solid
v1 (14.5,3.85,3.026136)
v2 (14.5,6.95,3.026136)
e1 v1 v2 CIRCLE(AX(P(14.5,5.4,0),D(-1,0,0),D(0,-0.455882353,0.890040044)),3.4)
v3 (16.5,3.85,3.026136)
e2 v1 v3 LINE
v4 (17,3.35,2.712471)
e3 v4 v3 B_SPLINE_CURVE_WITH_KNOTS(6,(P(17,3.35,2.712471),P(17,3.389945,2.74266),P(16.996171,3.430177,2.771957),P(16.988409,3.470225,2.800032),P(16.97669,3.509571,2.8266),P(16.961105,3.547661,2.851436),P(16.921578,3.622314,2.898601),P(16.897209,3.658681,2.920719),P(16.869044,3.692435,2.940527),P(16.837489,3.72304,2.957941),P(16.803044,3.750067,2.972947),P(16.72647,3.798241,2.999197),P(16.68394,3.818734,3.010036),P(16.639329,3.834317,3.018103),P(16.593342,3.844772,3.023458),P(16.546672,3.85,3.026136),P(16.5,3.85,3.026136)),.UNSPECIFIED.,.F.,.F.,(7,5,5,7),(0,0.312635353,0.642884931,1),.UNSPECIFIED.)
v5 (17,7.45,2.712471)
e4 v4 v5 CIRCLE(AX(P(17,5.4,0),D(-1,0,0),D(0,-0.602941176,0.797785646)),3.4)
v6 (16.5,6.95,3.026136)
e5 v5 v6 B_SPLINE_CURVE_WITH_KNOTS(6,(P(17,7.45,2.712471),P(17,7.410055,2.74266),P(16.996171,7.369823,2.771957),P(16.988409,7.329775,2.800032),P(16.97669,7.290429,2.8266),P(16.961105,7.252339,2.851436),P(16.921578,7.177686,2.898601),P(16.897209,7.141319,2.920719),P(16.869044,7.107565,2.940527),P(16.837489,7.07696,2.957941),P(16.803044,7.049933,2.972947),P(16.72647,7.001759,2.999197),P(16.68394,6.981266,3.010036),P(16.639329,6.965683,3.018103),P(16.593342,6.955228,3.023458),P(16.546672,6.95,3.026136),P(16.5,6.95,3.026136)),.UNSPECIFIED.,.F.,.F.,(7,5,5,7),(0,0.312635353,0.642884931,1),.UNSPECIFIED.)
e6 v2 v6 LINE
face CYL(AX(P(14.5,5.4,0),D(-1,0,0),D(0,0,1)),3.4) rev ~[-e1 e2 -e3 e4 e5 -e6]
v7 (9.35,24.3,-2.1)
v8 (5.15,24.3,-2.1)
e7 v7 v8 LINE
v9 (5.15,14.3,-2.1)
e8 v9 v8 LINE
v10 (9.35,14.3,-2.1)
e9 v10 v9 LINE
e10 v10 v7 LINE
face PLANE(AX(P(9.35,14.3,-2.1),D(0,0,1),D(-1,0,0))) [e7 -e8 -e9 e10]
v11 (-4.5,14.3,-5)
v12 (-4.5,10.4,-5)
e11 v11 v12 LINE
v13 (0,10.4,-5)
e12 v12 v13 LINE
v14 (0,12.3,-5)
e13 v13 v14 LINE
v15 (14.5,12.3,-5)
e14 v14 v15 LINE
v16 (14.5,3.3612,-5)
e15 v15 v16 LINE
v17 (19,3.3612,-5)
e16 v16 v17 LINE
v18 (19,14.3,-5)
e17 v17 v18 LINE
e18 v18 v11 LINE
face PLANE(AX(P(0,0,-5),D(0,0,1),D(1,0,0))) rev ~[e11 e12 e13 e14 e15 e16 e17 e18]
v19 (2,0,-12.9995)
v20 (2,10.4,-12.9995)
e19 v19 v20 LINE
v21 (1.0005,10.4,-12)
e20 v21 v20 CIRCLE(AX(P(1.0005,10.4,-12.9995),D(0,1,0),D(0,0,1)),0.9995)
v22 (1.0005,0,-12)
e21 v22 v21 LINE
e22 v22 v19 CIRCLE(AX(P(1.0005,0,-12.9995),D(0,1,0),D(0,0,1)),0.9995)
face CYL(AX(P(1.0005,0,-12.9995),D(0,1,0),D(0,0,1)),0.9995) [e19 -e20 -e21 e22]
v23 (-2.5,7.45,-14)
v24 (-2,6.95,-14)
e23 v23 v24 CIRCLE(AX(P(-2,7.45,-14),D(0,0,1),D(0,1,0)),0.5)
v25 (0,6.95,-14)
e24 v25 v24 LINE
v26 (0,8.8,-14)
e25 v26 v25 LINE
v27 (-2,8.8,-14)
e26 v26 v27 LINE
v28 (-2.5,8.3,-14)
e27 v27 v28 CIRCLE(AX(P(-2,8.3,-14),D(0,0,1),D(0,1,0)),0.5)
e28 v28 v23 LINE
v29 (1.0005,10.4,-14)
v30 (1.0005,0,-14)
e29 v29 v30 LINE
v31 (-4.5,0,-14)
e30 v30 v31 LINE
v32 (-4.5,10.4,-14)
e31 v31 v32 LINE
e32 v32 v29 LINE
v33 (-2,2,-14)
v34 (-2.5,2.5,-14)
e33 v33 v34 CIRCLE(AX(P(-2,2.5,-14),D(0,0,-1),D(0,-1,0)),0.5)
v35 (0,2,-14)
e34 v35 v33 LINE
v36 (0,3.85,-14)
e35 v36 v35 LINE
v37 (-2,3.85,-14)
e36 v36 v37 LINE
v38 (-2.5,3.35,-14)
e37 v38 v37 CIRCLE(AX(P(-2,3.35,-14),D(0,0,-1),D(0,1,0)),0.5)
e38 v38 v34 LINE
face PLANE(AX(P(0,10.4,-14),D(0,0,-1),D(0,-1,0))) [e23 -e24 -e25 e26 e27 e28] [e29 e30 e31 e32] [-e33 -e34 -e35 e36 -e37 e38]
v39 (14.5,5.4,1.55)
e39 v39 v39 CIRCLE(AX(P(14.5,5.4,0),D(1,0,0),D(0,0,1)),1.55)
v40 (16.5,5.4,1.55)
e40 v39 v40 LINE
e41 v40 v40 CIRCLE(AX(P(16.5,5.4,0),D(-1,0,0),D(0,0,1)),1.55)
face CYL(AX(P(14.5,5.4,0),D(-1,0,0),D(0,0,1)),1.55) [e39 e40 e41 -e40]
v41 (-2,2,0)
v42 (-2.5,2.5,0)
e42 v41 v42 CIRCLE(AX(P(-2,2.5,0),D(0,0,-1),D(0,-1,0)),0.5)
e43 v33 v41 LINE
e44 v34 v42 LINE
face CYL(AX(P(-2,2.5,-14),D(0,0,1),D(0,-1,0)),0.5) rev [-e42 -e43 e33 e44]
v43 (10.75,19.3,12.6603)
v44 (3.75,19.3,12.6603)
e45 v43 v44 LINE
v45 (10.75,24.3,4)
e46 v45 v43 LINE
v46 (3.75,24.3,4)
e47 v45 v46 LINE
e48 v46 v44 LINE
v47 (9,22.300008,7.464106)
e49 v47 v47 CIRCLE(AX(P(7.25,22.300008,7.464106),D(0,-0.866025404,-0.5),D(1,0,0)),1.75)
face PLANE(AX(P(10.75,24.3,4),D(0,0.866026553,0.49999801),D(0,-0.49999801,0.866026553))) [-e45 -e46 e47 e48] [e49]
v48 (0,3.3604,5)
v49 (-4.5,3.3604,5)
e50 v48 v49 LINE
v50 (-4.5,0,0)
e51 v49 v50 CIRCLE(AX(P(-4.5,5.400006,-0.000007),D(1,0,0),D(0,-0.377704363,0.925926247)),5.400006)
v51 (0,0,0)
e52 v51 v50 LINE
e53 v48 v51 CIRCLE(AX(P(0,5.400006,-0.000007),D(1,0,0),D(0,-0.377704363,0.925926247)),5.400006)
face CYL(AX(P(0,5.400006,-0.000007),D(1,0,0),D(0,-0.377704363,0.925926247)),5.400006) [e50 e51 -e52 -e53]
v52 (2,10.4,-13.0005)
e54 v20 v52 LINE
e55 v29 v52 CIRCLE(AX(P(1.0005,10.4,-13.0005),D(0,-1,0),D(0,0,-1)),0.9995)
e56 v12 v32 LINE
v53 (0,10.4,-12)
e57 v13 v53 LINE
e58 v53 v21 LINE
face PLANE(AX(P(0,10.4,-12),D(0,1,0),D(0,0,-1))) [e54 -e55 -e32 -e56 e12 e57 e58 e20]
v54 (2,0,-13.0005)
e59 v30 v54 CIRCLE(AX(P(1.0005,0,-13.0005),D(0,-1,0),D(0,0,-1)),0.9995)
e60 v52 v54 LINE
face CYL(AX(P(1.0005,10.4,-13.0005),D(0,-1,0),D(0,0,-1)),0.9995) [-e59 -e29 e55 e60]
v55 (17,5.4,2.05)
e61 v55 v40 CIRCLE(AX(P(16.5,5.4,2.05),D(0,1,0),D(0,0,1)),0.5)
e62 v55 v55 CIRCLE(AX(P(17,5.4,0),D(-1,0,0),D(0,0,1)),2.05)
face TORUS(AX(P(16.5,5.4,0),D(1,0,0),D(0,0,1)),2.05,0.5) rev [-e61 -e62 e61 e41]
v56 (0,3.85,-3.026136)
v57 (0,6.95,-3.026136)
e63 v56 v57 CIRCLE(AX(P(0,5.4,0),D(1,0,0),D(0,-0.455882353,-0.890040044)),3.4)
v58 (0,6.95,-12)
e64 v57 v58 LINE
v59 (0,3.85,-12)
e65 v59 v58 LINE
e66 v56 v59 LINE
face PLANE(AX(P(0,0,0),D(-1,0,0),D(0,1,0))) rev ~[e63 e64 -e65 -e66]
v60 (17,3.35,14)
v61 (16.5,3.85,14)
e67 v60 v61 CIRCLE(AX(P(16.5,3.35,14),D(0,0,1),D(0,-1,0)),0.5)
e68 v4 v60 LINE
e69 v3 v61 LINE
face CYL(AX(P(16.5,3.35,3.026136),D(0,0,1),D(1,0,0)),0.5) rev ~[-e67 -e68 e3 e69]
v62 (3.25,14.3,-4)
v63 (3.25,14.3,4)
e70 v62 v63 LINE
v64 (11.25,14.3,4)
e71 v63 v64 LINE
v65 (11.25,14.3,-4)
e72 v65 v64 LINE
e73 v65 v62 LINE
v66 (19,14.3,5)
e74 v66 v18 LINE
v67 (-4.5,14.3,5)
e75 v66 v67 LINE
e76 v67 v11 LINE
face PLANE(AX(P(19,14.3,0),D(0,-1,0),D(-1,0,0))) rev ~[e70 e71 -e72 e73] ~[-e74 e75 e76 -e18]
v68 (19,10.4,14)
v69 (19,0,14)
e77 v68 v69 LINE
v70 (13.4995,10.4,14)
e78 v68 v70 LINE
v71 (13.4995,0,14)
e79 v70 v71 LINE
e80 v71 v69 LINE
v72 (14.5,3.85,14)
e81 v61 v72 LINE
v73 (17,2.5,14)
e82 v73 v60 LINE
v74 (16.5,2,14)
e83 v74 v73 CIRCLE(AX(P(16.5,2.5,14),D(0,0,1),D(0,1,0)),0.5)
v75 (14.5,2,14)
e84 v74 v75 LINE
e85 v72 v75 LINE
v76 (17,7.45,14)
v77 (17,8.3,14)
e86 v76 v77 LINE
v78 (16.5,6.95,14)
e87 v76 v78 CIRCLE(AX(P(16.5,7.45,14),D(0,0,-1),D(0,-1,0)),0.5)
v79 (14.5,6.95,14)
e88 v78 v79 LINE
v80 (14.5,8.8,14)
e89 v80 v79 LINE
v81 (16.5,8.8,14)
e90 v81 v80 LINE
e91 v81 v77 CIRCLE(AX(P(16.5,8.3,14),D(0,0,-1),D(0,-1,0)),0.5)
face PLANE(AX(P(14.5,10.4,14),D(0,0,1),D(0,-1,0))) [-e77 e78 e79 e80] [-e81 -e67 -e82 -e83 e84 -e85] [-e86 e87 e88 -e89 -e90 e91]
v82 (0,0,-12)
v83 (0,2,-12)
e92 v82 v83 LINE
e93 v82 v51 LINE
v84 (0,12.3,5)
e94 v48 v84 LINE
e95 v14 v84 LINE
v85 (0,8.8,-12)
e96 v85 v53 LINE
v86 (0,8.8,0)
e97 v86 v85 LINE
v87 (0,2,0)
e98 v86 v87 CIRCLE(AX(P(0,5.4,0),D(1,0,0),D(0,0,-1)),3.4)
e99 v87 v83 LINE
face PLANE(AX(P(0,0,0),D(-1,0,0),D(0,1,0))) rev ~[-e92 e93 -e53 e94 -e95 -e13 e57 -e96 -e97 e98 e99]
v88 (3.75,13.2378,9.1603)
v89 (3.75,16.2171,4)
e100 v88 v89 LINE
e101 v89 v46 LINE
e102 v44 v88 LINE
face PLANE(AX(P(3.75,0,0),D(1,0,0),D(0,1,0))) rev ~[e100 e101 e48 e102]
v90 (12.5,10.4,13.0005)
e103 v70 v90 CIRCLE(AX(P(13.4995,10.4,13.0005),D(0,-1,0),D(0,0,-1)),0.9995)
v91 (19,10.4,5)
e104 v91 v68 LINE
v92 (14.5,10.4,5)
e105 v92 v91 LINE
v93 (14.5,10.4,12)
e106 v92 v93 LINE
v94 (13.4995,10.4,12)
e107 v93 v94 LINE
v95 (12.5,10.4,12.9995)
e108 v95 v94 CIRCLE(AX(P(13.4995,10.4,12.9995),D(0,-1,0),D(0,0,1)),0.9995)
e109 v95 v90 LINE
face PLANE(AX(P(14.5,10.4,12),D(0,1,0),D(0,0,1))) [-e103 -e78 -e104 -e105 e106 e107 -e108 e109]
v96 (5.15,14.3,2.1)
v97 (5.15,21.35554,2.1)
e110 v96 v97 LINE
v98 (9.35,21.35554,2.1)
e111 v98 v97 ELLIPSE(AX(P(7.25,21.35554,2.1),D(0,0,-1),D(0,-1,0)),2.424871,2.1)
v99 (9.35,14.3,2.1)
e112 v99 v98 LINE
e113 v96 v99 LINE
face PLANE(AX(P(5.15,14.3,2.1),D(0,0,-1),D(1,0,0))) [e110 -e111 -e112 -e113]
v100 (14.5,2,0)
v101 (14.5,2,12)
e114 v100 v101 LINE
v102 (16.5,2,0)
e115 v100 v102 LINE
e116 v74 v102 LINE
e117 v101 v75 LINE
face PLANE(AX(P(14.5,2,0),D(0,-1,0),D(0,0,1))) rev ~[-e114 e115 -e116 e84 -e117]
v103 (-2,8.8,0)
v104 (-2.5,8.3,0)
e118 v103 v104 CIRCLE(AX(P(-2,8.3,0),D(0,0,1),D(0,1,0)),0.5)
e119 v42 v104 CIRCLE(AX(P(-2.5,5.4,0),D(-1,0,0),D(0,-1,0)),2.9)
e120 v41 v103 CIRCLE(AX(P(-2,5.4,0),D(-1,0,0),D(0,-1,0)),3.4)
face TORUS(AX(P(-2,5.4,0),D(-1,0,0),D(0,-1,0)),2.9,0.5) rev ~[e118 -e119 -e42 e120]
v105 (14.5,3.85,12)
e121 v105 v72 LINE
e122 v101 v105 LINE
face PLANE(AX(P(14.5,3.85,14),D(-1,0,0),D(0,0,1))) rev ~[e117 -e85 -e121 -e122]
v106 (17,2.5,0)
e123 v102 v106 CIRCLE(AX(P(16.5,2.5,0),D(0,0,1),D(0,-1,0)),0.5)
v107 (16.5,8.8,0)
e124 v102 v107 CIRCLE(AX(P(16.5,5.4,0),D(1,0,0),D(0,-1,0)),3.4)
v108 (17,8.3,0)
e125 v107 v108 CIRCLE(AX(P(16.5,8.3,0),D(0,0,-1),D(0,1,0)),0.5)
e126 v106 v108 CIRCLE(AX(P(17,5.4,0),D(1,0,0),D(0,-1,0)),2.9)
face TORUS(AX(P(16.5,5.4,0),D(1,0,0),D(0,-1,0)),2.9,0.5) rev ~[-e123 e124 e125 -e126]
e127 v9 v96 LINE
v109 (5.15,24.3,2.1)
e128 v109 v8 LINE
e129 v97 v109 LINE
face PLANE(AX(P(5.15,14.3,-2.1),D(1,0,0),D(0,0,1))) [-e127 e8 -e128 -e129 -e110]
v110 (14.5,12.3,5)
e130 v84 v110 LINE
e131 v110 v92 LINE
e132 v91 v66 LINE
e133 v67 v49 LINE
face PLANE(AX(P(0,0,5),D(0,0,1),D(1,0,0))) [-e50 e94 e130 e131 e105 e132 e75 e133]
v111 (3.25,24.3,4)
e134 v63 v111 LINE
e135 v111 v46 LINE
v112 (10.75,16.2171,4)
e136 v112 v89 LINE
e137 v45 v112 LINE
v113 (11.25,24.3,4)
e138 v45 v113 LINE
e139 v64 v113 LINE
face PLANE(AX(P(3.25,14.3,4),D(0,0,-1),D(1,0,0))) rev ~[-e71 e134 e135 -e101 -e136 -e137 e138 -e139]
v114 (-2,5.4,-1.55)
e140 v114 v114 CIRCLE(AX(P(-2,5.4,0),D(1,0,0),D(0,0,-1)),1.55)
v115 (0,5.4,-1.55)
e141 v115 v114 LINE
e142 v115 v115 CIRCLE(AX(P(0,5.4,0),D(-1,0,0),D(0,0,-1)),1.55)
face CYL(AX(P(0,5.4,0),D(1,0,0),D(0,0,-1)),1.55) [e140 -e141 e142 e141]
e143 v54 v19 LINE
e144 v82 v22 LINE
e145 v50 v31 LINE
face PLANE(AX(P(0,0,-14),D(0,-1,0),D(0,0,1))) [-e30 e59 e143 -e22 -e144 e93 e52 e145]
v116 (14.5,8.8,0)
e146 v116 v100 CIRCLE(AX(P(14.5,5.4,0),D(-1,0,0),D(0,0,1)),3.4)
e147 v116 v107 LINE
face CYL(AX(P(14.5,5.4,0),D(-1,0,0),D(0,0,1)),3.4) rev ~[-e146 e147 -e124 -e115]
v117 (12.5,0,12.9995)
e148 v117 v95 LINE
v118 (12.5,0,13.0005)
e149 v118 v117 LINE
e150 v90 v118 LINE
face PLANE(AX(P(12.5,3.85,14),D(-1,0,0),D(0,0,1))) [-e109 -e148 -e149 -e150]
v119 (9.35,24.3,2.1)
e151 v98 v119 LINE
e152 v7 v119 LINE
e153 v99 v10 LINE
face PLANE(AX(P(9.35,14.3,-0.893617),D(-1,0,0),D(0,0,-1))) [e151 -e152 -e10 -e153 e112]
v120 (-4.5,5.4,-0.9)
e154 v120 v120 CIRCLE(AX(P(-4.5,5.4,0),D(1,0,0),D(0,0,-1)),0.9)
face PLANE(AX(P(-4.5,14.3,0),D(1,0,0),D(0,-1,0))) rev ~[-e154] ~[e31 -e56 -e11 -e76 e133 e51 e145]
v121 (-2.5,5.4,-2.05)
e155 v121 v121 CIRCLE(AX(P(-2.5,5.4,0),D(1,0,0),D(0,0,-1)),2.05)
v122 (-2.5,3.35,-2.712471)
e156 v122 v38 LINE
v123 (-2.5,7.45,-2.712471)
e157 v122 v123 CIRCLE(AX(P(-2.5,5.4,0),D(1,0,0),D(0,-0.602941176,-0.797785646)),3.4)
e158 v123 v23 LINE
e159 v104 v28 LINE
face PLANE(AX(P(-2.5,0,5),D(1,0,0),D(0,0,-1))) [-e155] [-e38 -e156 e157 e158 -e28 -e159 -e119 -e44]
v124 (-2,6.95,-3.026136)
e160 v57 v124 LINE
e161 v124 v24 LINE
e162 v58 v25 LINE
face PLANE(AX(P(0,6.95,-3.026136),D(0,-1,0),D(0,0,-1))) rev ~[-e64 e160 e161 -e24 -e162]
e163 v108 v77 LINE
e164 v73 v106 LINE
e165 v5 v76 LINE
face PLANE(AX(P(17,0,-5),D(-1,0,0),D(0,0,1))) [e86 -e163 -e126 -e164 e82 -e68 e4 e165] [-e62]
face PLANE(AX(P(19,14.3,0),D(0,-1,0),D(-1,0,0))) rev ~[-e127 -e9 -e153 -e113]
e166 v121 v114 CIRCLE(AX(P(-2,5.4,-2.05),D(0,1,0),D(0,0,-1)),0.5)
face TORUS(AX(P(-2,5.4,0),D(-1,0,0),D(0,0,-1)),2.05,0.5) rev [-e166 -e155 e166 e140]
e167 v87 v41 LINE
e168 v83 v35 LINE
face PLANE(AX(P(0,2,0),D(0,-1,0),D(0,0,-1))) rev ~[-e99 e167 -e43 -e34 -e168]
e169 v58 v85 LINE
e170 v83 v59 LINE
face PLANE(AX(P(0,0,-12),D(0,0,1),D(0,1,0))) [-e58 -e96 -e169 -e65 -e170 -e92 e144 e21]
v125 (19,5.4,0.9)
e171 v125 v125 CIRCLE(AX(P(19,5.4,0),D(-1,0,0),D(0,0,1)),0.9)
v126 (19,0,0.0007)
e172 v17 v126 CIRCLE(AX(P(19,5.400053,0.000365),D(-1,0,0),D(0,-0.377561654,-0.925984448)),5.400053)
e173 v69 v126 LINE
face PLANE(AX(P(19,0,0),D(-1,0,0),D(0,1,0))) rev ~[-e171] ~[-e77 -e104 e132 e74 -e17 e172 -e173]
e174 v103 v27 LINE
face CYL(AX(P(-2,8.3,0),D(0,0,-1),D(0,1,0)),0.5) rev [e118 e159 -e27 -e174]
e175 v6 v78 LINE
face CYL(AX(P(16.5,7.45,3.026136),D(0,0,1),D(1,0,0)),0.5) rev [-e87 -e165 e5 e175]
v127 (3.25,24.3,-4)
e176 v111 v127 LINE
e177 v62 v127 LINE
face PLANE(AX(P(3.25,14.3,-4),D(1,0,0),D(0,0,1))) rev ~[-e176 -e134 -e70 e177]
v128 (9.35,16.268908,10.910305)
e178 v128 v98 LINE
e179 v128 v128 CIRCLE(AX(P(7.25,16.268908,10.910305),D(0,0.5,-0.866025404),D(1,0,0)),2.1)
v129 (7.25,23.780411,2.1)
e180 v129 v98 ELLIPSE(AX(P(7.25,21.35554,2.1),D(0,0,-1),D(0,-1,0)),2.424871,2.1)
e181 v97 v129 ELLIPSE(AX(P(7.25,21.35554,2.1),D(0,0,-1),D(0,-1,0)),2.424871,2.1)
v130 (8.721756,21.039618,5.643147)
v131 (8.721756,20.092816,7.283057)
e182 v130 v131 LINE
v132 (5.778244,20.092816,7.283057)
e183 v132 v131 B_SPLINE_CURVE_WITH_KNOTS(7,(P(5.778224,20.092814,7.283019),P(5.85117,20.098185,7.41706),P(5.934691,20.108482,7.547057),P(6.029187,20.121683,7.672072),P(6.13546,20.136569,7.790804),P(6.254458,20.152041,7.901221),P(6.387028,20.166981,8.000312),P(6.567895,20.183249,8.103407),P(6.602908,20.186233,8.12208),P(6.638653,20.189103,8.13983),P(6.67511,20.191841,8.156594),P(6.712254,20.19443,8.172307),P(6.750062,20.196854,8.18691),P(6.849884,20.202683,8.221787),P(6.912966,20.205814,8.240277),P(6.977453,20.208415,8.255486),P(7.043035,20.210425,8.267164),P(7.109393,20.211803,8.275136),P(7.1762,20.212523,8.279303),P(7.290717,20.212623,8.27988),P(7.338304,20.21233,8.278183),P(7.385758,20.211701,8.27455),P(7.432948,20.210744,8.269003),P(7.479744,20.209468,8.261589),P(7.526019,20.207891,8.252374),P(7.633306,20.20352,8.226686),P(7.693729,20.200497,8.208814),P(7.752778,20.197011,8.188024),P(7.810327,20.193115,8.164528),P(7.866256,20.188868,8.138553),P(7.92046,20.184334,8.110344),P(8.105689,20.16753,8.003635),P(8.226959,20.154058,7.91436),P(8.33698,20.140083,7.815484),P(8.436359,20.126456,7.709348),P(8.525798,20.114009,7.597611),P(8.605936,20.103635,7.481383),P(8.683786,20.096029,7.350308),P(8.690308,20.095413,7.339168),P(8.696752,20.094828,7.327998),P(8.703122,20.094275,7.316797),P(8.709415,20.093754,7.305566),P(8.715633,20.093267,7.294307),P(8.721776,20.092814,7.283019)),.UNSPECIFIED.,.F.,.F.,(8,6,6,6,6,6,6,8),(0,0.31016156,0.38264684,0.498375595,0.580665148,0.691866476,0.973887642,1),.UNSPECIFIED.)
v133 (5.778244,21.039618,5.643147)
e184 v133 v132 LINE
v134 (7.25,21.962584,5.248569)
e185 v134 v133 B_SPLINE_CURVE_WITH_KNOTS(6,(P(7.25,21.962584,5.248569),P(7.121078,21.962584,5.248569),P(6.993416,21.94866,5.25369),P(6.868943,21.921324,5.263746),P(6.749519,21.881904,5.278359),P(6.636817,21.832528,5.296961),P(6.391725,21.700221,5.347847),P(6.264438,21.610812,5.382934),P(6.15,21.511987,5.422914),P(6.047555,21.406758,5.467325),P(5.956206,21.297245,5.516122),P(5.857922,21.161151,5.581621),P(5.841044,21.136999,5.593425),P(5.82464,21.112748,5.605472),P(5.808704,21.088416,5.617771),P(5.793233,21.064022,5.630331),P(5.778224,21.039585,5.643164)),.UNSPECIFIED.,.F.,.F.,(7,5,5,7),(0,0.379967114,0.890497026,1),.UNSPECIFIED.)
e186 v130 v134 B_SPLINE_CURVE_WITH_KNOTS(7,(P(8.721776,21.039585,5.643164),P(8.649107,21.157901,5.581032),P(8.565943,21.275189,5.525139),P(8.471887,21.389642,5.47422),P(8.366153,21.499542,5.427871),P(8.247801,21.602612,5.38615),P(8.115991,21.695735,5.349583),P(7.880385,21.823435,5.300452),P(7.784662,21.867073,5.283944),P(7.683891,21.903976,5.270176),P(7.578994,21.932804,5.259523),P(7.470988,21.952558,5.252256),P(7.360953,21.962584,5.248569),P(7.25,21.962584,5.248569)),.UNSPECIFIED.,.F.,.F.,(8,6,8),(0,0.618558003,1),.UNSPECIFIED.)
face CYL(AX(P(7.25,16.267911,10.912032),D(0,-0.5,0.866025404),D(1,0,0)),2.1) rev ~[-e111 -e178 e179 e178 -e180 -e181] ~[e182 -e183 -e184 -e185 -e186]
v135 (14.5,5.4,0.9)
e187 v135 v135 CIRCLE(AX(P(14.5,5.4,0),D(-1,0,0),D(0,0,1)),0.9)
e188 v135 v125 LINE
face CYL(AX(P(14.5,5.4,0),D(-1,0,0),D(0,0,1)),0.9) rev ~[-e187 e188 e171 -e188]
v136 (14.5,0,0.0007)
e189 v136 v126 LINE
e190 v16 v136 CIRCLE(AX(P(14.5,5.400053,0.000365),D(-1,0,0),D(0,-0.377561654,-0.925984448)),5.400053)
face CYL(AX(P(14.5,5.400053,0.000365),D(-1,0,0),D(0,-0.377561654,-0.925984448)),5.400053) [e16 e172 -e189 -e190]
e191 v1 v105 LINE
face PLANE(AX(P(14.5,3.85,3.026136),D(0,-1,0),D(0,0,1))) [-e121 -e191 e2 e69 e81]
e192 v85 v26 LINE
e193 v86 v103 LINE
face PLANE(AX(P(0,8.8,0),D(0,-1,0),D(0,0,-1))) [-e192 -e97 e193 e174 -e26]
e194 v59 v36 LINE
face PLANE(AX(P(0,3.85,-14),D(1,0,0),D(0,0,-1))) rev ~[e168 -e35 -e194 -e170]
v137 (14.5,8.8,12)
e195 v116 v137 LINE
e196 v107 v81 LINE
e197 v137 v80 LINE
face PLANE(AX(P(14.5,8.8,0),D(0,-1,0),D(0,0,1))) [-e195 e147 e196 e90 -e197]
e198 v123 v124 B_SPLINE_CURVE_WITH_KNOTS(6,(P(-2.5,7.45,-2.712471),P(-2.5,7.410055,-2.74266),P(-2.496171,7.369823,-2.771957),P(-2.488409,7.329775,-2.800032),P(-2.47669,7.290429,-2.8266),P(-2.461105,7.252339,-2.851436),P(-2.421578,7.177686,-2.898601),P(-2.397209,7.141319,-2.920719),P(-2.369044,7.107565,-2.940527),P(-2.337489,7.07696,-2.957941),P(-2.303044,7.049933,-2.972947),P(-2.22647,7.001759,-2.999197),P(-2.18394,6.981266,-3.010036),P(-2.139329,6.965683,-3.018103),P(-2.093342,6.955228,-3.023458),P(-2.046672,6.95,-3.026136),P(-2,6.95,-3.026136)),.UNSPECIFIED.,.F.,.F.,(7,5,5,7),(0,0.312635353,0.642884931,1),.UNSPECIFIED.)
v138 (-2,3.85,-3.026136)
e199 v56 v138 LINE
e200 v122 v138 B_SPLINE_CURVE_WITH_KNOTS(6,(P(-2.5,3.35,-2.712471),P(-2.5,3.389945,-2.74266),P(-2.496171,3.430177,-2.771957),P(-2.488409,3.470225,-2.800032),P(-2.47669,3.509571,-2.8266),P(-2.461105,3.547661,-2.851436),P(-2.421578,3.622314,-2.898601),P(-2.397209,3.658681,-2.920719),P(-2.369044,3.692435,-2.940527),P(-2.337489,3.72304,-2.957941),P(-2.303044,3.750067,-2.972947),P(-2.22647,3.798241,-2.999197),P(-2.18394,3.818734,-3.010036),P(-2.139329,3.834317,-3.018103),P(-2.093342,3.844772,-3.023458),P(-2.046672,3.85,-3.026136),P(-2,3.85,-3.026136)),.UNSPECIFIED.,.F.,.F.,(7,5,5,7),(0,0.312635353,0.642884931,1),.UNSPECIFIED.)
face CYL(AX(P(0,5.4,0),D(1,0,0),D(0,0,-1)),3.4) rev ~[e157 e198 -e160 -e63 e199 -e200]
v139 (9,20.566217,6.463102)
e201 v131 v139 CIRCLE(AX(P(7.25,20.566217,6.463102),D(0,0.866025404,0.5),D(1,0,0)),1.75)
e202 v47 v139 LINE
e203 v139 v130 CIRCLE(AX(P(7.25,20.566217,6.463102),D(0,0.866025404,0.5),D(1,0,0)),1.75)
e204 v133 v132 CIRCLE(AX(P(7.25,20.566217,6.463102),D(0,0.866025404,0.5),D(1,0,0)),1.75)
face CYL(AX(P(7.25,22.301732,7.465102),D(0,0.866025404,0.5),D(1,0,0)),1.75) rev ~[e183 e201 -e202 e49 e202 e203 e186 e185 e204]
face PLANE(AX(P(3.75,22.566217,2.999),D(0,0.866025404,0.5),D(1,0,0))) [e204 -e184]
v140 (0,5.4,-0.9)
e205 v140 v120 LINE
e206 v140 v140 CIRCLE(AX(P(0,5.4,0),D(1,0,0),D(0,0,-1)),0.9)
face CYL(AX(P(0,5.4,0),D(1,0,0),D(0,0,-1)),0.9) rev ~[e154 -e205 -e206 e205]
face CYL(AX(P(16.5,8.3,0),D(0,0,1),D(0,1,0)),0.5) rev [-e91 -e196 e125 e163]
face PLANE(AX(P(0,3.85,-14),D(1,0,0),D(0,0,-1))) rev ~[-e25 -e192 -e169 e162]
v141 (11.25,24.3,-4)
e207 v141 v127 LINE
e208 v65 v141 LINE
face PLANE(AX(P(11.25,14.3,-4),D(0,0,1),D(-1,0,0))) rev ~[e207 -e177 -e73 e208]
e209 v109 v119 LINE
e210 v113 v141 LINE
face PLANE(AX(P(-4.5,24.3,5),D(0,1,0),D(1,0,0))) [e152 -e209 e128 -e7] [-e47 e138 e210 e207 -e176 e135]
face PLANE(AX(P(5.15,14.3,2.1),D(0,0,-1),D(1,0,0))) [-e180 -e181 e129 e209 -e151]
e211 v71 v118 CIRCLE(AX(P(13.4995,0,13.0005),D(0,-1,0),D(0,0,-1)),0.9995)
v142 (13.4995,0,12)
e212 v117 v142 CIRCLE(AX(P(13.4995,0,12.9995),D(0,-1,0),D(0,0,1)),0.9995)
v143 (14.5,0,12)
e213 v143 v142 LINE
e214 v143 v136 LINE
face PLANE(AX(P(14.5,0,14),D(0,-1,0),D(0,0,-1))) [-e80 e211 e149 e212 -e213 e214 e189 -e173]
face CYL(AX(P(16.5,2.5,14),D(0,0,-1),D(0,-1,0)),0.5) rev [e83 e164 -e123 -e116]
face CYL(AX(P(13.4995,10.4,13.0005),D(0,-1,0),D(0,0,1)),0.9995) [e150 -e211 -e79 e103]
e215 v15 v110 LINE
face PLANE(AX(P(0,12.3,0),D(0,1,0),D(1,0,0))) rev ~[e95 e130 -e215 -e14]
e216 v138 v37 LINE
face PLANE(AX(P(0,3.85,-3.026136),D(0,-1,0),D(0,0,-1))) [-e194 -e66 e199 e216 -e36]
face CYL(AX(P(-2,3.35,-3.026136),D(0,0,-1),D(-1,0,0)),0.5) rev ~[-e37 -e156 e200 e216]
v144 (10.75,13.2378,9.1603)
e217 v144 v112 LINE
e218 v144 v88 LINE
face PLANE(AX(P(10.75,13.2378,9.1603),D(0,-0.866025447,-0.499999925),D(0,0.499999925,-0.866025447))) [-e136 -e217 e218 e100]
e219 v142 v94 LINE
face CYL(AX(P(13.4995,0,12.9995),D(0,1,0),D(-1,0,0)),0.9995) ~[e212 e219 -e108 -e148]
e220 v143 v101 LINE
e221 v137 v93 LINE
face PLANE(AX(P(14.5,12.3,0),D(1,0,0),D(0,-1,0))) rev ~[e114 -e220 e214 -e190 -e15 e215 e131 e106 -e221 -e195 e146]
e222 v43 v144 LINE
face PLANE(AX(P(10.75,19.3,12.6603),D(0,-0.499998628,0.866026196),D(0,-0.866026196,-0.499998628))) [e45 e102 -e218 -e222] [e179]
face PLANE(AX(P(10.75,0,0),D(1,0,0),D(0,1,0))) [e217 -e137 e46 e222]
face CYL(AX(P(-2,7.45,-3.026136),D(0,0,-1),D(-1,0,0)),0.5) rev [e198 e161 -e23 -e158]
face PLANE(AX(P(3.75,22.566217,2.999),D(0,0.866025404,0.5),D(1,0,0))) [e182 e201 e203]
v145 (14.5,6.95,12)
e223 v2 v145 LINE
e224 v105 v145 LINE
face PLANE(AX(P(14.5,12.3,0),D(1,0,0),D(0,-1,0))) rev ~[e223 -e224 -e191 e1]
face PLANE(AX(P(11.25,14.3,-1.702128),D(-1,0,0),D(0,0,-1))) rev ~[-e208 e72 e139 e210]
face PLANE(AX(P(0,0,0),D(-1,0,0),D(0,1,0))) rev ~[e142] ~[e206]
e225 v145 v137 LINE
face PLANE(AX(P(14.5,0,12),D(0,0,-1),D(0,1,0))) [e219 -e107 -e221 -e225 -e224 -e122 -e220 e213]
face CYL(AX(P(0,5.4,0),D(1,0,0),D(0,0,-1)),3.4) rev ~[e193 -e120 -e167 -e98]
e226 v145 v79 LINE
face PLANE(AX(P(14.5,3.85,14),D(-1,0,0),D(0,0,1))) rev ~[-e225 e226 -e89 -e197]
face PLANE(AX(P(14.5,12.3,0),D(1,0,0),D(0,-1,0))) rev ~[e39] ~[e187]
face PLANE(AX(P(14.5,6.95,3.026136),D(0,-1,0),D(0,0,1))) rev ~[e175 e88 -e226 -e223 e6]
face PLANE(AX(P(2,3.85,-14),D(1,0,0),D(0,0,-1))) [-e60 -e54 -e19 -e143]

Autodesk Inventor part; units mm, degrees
ref_plane "XZ Plane" through (0, 0, 0) normal (0, 1, 0) x (-1, 0, 0)
ref_plane "XY Plane" through (0, 0, 0) normal (0, 0, 1) x (1, 0, 0)
sketch "Sketch1" plane through (0, 0, 0) normal (0, 0, 1) x (1, 0, 0)
  line L0 (0, 0) -> (0, 12.3)
  line L1 (0, 12.3) -> (14.5, 12.3)
  line L2 (14.5, 12.3) -> (14.5, 0)
  line L3 (14.5, 0) -> (19, 0)
  line L4 (19, 0) -> (19, 14.3)
  line L5 (19, 14.3) -> (-4.5, 14.3)
  line L6 (-4.5, 14.3) -> (-4.5, 0)
  line L7 (-4.5, 0) -> (0, 0)
  dimension "d6" = 12.3
  dimension "d7" = 14.5
  dimension "d8" = 4.5
  dimension "d9" = 14.3
  dimension "d10" = 23.5
  dimension "d108" = 12.3
  dimension "d205" = 4.5
extrude "Extrusion1" add sketch "Sketch1" along normal mid plane 10
sketch "Sketch2" plane through (-4.5, 14.3, 5) normal (0, 1, 0) x (1, 0, 0)
  line L0 (0, 10) -> (0, 0) projected
  line L1 (0, 10) -> (23.5, 10) projected
  line L2 (0, 0) -> (23.5, 10)
  line L3 (23.5, 0) -> (0, 0) projected
  line L4 (0, 10) -> (23.5, 0)
  line L5 (9.65, 2.9) -> (13.85, 2.9)
  line L6 (13.85, 2.9) -> (13.85, 7.1)
  line L7 (13.85, 7.1) -> (9.65, 7.1)
  line L8 (9.65, 7.1) -> (9.65, 2.9)
  line L9 (9.65, 2.9) -> (13.85, 7.1) construction
  line L10 (13.85, 2.9) -> (9.65, 7.1) construction
  line L11 (7.75, 1) -> (15.75, 1)
  line L12 (15.75, 1) -> (15.75, 9)
  line L13 (15.75, 9) -> (7.75, 9)
  line L14 (7.75, 9) -> (7.75, 1)
  line L15 (7.75, 1) -> (15.75, 9) construction
  line L16 (15.75, 1) -> (7.75, 9) construction
  point P0 (4.5, 5)
  point P1 (11.75, 5)
  dimension "d11" = 4.2
  dimension "d12" = 4.2
  dimension "d13" = 8
  dimension "d14" = 8
extrude "Extrusion2" add sketch "Sketch2" along normal blind 10 contours L14 L13 L12 L2 L6 L7 L8 L4 | L4 L8 L2 L14 | L2 L8 L5 L6 L4 L12 L11 L14 | L12 L4 L6 L2
sketch "Sketch3" plane through (0, 0, 5) normal (1, 0, 0) x (0, 0, -1)
  line L0 (10, 0) -> (0, 0) projected
  line L1 (0, 0) -> (5, 0)
  line L2 (10, 14.3) -> (0, 14.3) projected
  line L3 (6.95, 14.3) -> (3.05, 14.3)
  line L4 (5, 0) -> (5, 2)
  line L5 (8.4, 5.4) -> (17.767, 5.4) construction
  line L6 (6.8, 5.4) -> (16.167, 5.4) construction
  line L7 (1.6, 5.4) -> (10.967, 5.4) construction
  line L8 (3.2, 5.4) -> (12.567, 5.4) construction
  line L9 (5, 5.4) -> (5, 0)
  line L10 (5, 8.8) -> (5, 10.4)
  line L11 (5, 10.4) -> (19, 10.4)
  line L12 (5, 0) -> (19, 0)
  line L13 (19, 0) -> (19, 10.4)
  line L14 (5, 8.8) -> (5, 0)
  point P0 (1.9, 14.3)
  point P1 (8.1, 14.3)
  point P2 (10, 0)
  dimension "d17" = 5
  dimension "d111" = 2
  dimension "d172" = 1.6
  dimension "d173" = 14
  dimension "d174" = 14
extrude "Extrusion3" add sketch "Sketch3" against normal blind 4.5
ref_plane "Work Plane1" through (10.75, 0, 0) normal (1, 0, 0) x (0, 1, 0)
sketch "Sketch15" plane through (10.75, 0, 0) normal (1, 0, 0) x (0, 1, 0)
  line L0 (24.3, -4) -> (24.3, 4) projected
  line L1 (24.3, 4) -> (19.3, 12.6603)
  line L2 (24.3, 4) -> (34.3, 4) construction
  line L3 (24.3, 4) -> (16.3, 4)
  line L4 (14.3, 4) -> (24.3, 4) projected
  line L5 (19.3, 12.6603) -> (13.2378, 9.1603)
  line L6 (13.2378, 9.1603) -> (16.2171, 4)
  line L7 (13.2378, 9.1603) -> (19.1964, 9.1603) construction
  point P0 (0, 0)
  point P1 (18.5265, 4)
  dimension "d83" = 10
  dimension "d84" = 120
  dimension "d85" = 8
  dimension "d93" = 7
  dimension "d94" = 60
extrude "Extrusion13" add sketch "Sketch15" against normal blind 7
sketch "Sketch17" plane through (3.75, 19.3, 12.6603) normal (0, -0.5, 0.866) x (1, 0, 0)
  line L0 (7, -7) -> (0, -7) projected
  line L1 (0, 0) -> (3.5, 0)
  line L2 (3.5, 0) -> (3.5, -3.5)
  circle A0 centre (3.5, -3.5) radius 2.1
  point P0 (-3.75, -23.0444)
  point P1 (0.25, -7)
  point P2 (6.5, -7)
  dimension "d119" = 3.5
  dimension "d120" = 3.5
  dimension "d121" = 4.2
extrude "Extrusion15" cut sketch "Sketch17" against normal blind 13
sketch "Sketch22" plane through (14.5, 0, 5) normal (-1, 0, 0) x (0, 0, 1)
  line L0 (-10, 0) -> (0, 0) projected
  line L1 (0, 0) -> (-5, 0)
  line L2 (-5, 0) -> (0.4, 0) construction
  line L3 (9, 8.8) -> (9, 0)
  line L4 (9, 0) -> (-5, 0)
  line L5 (9, 9.4295) -> (9, 0)
  line L6 (-5, 10.4) -> (9, 10.4)
  line L7 (9, 10.4) -> (9, 9.4295)
  line L8 (-5, 10.4) -> (-5, 0)
  point P0 (0, 0)
extrude "Extrusion20" add sketch "Sketch22" against normal blind 4.5
sketch "Sketch23" plane through (14.5, 0, -5) normal (-1, 0, 0) x (0, 0, 1)
  line L0 (0, 14.3) -> (0, 0) projected
  line L1 (0, 0) -> (5, 0)
  line L2 (0, 0) -> (19, 0) projected
  line L3 (5, 0) -> (5, 5.4)
  circle A0 centre (5, 5.4) radius 1.55
  circle A1 centre (5, 5.4) radius 3.4
  line L4 (5, 2) -> (20, 2)
  line L5 (5, 3.85) -> (20, 3.85)
  line L6 (5, 6.95) -> (20, 6.95)
  line L7 (5, 8.8) -> (20, 8.8)
  line L8 (20, 8.8) -> (20, 6.95)
  line L9 (20, 3.85) -> (20, 2)
  point P0 (8.0261, 3.85)
  point P1 (8.0261, 6.95)
  dimension "d161" = 5.4
  dimension "d162" = 3.1
  dimension "d163" = 6.8
  dimension "d164" = 15
  dimension "d165" = 15
  dimension "d166" = 15
extrude "Extrusion21" cut sketch "Sketch23" against normal blind 2.5 contours A1 L6 A0 L3 | L3 L5 A1 | A1 L5 L9 L4 | A0 L6 A1 L5 | L7 L8 L6 A1
sketch "Sketch24" plane through (14.5, 5.4, 0) normal (-1, 0, 0) x (0, 0, 1)
  circle A0 centre (0, 0) radius 0.9
  point P0 (0, -5.4)
  dimension "d169" = 1.8
extrude "Extrusion22" cut sketch "Sketch24" against normal through all
sketch "Sketch25" plane through (0, 0, 5) normal (1, 0, 0) x (0, 0, -1)
  line L0 (19, 0) -> (0, 0) projected
  line L1 (0, 0) -> (5, 0)
  line L2 (5, 0) -> (5, 5.4)
  line L3 (5, 0) -> (10.4, 0) construction
  circle A0 centre (5, 5.4) radius 1.55
  circle A1 centre (5, 5.4) radius 3.4
  line L4 (5, 8.8) -> (20, 8.8)
  line L5 (5, 6.95) -> (20, 6.95)
  line L6 (5, 3.85) -> (20, 3.85)
  line L7 (5, 2) -> (20, 2)
  line L8 (20, 2) -> (20, 3.85)
  line L9 (20, 6.95) -> (20, 8.8)
  point P0 (8.0261, 6.95)
  point P1 (8.0261, 3.85)
  dimension "d175" = 5.4
  dimension "d176" = 90
  dimension "d177" = 3.1
  dimension "d178" = 6.8
  dimension "d179" = 15
  dimension "d180" = 15
  dimension "d181" = 15
  dimension "d182" = 15
extrude "Extrusion23" cut sketch "Sketch25" against normal blind 2.5 contours A1 L5 A0 L2 | L2 L6 A1 | A1 L6 L8 L7 | A0 L5 A1 L6 | L4 L9 L5 A1
sketch "Sketch26" plane through (0, 5.4, 0) normal (1, 0, 0) x (0, 0, -1)
  circle A0 centre (0, 0) radius 0.9
  point P0 (0, -5.4)
  dimension "d185" = 1.8
extrude "Extrusion24" cut sketch "Sketch26" against normal through all
sketch "Sketch27" plane through (0, 5.4, 0) normal (1, 0, 0) x (0, 0, -1)
  circle A0 centre (0, 0) radius 0.9 projected
  arc A1 (-5, -2.0396) -> (0, -5.4) centre (0, 0) ccw
  line L0 (-5, 8.9) -> (-5, -5.4) projected
  line L1 (-5, -2.0396) -> (-5, -5.4)
  line L2 (-5, -5.4) -> (0, -5.4)
extrude "Extrusion25" cut sketch "Sketch27" against normal through all contours A1 L2 L0
sketch "Sketch28" plane through (14.5, 5.4, 0) normal (-1, 0, 0) x (0, 0, 1)
  arc A0 (-5, -2.0388) -> (0.0007, -5.4) centre (0.0003, 0) ccw
  line L0 (-5, 8.9) -> (-5, -5.4) projected
  line L1 (-5, -2.0388) -> (-5, -5.4)
  line L2 (-5, -5.4) -> (0, -5.4)
extrude "Extrusion26" cut sketch "Sketch28" against normal through all
fillet "Fillet9" radius 0.5 12 edges at (17, 8.8, 7) (17, 2, 7) (17, 5.4, -3.4) (17, 5.4, -1.55) (17, 6.95, 8.5131) (17, 3.85, 8.5131) (-2.5, 8.8, -7) (-2.5, 2, -7) (-2.5, 5.4, 3.4) (-2.5, 6.95, -8.5131) (-2.5, 3.85, -8.5131) (-2.5, 5.4, 1.55)
sketch "Sketch29" plane through (0, 3.85, -14) normal (1, 0, 0) x (0, 0, -1)
  line L0 (0, 6.55) -> (0, -3.85) projected
  line L1 (0, -3.85) -> (-2, -3.85)
  line L2 (0, -3.85) -> (-14, -3.85) projected
  line L3 (-2, -3.85) -> (-2, 6.55)
  line L4 (-9, 6.55) -> (0, 6.55) projected
  line L5 (-2, 6.55) -> (0, 6.55)
  line L6 (0, -3.85) -> (0, 6.55)
  dimension "d193" = 2
extrude "Extrusion27" add sketch "Sketch29" along normal blind 2
sketch "Sketch30" plane through (14.5, 3.85, 14) normal (-1, 0, 0) x (0, 0, 1)
  line L0 (0, 6.55) -> (0, -3.85) projected
  line L1 (0, -3.85) -> (-2, -3.85)
  line L2 (-14, -3.85) -> (0, -3.85) projected
  line L3 (-2, -3.85) -> (-2, 6.55)
  line L4 (-9, 6.55) -> (0, 6.55) projected
  line L5 (0, 6.55) -> (0, -3.85)
  dimension "d196" = 2
extrude "Extrusion28" add sketch "Sketch30" along normal blind 2
fillet "Fillet10" radius 1 4 edges at (12.5, 5.2, 14) (12.5, 5.2, 12) (2, 5.2, -12) (2, 5.2, -14)
sketch "Sketch31" plane through (3.75, 24.3, 4) normal (0, 0.866, 0.5) x (1, 0, 0)
  line L0 (-0.5, 0) -> (7, 0) projected
  line L1 (0, 0) -> (3.5, 0)
  line L2 (-0.5, 0) -> (7.5, 0) projected
  line L3 (3.5, 0) -> (3.5, -4)
  circle A0 centre (3.5, -4) radius 1.75
  point P0 (-3.75, -8.6859)
  dimension "d200" = 3.5
  dimension "d201" = 4
  dimension "d202" = 3.5
extrude "Extrusion29" cut sketch "Sketch31" against normal blind 2
properties part number "øvre del av kne Andre versjon"
